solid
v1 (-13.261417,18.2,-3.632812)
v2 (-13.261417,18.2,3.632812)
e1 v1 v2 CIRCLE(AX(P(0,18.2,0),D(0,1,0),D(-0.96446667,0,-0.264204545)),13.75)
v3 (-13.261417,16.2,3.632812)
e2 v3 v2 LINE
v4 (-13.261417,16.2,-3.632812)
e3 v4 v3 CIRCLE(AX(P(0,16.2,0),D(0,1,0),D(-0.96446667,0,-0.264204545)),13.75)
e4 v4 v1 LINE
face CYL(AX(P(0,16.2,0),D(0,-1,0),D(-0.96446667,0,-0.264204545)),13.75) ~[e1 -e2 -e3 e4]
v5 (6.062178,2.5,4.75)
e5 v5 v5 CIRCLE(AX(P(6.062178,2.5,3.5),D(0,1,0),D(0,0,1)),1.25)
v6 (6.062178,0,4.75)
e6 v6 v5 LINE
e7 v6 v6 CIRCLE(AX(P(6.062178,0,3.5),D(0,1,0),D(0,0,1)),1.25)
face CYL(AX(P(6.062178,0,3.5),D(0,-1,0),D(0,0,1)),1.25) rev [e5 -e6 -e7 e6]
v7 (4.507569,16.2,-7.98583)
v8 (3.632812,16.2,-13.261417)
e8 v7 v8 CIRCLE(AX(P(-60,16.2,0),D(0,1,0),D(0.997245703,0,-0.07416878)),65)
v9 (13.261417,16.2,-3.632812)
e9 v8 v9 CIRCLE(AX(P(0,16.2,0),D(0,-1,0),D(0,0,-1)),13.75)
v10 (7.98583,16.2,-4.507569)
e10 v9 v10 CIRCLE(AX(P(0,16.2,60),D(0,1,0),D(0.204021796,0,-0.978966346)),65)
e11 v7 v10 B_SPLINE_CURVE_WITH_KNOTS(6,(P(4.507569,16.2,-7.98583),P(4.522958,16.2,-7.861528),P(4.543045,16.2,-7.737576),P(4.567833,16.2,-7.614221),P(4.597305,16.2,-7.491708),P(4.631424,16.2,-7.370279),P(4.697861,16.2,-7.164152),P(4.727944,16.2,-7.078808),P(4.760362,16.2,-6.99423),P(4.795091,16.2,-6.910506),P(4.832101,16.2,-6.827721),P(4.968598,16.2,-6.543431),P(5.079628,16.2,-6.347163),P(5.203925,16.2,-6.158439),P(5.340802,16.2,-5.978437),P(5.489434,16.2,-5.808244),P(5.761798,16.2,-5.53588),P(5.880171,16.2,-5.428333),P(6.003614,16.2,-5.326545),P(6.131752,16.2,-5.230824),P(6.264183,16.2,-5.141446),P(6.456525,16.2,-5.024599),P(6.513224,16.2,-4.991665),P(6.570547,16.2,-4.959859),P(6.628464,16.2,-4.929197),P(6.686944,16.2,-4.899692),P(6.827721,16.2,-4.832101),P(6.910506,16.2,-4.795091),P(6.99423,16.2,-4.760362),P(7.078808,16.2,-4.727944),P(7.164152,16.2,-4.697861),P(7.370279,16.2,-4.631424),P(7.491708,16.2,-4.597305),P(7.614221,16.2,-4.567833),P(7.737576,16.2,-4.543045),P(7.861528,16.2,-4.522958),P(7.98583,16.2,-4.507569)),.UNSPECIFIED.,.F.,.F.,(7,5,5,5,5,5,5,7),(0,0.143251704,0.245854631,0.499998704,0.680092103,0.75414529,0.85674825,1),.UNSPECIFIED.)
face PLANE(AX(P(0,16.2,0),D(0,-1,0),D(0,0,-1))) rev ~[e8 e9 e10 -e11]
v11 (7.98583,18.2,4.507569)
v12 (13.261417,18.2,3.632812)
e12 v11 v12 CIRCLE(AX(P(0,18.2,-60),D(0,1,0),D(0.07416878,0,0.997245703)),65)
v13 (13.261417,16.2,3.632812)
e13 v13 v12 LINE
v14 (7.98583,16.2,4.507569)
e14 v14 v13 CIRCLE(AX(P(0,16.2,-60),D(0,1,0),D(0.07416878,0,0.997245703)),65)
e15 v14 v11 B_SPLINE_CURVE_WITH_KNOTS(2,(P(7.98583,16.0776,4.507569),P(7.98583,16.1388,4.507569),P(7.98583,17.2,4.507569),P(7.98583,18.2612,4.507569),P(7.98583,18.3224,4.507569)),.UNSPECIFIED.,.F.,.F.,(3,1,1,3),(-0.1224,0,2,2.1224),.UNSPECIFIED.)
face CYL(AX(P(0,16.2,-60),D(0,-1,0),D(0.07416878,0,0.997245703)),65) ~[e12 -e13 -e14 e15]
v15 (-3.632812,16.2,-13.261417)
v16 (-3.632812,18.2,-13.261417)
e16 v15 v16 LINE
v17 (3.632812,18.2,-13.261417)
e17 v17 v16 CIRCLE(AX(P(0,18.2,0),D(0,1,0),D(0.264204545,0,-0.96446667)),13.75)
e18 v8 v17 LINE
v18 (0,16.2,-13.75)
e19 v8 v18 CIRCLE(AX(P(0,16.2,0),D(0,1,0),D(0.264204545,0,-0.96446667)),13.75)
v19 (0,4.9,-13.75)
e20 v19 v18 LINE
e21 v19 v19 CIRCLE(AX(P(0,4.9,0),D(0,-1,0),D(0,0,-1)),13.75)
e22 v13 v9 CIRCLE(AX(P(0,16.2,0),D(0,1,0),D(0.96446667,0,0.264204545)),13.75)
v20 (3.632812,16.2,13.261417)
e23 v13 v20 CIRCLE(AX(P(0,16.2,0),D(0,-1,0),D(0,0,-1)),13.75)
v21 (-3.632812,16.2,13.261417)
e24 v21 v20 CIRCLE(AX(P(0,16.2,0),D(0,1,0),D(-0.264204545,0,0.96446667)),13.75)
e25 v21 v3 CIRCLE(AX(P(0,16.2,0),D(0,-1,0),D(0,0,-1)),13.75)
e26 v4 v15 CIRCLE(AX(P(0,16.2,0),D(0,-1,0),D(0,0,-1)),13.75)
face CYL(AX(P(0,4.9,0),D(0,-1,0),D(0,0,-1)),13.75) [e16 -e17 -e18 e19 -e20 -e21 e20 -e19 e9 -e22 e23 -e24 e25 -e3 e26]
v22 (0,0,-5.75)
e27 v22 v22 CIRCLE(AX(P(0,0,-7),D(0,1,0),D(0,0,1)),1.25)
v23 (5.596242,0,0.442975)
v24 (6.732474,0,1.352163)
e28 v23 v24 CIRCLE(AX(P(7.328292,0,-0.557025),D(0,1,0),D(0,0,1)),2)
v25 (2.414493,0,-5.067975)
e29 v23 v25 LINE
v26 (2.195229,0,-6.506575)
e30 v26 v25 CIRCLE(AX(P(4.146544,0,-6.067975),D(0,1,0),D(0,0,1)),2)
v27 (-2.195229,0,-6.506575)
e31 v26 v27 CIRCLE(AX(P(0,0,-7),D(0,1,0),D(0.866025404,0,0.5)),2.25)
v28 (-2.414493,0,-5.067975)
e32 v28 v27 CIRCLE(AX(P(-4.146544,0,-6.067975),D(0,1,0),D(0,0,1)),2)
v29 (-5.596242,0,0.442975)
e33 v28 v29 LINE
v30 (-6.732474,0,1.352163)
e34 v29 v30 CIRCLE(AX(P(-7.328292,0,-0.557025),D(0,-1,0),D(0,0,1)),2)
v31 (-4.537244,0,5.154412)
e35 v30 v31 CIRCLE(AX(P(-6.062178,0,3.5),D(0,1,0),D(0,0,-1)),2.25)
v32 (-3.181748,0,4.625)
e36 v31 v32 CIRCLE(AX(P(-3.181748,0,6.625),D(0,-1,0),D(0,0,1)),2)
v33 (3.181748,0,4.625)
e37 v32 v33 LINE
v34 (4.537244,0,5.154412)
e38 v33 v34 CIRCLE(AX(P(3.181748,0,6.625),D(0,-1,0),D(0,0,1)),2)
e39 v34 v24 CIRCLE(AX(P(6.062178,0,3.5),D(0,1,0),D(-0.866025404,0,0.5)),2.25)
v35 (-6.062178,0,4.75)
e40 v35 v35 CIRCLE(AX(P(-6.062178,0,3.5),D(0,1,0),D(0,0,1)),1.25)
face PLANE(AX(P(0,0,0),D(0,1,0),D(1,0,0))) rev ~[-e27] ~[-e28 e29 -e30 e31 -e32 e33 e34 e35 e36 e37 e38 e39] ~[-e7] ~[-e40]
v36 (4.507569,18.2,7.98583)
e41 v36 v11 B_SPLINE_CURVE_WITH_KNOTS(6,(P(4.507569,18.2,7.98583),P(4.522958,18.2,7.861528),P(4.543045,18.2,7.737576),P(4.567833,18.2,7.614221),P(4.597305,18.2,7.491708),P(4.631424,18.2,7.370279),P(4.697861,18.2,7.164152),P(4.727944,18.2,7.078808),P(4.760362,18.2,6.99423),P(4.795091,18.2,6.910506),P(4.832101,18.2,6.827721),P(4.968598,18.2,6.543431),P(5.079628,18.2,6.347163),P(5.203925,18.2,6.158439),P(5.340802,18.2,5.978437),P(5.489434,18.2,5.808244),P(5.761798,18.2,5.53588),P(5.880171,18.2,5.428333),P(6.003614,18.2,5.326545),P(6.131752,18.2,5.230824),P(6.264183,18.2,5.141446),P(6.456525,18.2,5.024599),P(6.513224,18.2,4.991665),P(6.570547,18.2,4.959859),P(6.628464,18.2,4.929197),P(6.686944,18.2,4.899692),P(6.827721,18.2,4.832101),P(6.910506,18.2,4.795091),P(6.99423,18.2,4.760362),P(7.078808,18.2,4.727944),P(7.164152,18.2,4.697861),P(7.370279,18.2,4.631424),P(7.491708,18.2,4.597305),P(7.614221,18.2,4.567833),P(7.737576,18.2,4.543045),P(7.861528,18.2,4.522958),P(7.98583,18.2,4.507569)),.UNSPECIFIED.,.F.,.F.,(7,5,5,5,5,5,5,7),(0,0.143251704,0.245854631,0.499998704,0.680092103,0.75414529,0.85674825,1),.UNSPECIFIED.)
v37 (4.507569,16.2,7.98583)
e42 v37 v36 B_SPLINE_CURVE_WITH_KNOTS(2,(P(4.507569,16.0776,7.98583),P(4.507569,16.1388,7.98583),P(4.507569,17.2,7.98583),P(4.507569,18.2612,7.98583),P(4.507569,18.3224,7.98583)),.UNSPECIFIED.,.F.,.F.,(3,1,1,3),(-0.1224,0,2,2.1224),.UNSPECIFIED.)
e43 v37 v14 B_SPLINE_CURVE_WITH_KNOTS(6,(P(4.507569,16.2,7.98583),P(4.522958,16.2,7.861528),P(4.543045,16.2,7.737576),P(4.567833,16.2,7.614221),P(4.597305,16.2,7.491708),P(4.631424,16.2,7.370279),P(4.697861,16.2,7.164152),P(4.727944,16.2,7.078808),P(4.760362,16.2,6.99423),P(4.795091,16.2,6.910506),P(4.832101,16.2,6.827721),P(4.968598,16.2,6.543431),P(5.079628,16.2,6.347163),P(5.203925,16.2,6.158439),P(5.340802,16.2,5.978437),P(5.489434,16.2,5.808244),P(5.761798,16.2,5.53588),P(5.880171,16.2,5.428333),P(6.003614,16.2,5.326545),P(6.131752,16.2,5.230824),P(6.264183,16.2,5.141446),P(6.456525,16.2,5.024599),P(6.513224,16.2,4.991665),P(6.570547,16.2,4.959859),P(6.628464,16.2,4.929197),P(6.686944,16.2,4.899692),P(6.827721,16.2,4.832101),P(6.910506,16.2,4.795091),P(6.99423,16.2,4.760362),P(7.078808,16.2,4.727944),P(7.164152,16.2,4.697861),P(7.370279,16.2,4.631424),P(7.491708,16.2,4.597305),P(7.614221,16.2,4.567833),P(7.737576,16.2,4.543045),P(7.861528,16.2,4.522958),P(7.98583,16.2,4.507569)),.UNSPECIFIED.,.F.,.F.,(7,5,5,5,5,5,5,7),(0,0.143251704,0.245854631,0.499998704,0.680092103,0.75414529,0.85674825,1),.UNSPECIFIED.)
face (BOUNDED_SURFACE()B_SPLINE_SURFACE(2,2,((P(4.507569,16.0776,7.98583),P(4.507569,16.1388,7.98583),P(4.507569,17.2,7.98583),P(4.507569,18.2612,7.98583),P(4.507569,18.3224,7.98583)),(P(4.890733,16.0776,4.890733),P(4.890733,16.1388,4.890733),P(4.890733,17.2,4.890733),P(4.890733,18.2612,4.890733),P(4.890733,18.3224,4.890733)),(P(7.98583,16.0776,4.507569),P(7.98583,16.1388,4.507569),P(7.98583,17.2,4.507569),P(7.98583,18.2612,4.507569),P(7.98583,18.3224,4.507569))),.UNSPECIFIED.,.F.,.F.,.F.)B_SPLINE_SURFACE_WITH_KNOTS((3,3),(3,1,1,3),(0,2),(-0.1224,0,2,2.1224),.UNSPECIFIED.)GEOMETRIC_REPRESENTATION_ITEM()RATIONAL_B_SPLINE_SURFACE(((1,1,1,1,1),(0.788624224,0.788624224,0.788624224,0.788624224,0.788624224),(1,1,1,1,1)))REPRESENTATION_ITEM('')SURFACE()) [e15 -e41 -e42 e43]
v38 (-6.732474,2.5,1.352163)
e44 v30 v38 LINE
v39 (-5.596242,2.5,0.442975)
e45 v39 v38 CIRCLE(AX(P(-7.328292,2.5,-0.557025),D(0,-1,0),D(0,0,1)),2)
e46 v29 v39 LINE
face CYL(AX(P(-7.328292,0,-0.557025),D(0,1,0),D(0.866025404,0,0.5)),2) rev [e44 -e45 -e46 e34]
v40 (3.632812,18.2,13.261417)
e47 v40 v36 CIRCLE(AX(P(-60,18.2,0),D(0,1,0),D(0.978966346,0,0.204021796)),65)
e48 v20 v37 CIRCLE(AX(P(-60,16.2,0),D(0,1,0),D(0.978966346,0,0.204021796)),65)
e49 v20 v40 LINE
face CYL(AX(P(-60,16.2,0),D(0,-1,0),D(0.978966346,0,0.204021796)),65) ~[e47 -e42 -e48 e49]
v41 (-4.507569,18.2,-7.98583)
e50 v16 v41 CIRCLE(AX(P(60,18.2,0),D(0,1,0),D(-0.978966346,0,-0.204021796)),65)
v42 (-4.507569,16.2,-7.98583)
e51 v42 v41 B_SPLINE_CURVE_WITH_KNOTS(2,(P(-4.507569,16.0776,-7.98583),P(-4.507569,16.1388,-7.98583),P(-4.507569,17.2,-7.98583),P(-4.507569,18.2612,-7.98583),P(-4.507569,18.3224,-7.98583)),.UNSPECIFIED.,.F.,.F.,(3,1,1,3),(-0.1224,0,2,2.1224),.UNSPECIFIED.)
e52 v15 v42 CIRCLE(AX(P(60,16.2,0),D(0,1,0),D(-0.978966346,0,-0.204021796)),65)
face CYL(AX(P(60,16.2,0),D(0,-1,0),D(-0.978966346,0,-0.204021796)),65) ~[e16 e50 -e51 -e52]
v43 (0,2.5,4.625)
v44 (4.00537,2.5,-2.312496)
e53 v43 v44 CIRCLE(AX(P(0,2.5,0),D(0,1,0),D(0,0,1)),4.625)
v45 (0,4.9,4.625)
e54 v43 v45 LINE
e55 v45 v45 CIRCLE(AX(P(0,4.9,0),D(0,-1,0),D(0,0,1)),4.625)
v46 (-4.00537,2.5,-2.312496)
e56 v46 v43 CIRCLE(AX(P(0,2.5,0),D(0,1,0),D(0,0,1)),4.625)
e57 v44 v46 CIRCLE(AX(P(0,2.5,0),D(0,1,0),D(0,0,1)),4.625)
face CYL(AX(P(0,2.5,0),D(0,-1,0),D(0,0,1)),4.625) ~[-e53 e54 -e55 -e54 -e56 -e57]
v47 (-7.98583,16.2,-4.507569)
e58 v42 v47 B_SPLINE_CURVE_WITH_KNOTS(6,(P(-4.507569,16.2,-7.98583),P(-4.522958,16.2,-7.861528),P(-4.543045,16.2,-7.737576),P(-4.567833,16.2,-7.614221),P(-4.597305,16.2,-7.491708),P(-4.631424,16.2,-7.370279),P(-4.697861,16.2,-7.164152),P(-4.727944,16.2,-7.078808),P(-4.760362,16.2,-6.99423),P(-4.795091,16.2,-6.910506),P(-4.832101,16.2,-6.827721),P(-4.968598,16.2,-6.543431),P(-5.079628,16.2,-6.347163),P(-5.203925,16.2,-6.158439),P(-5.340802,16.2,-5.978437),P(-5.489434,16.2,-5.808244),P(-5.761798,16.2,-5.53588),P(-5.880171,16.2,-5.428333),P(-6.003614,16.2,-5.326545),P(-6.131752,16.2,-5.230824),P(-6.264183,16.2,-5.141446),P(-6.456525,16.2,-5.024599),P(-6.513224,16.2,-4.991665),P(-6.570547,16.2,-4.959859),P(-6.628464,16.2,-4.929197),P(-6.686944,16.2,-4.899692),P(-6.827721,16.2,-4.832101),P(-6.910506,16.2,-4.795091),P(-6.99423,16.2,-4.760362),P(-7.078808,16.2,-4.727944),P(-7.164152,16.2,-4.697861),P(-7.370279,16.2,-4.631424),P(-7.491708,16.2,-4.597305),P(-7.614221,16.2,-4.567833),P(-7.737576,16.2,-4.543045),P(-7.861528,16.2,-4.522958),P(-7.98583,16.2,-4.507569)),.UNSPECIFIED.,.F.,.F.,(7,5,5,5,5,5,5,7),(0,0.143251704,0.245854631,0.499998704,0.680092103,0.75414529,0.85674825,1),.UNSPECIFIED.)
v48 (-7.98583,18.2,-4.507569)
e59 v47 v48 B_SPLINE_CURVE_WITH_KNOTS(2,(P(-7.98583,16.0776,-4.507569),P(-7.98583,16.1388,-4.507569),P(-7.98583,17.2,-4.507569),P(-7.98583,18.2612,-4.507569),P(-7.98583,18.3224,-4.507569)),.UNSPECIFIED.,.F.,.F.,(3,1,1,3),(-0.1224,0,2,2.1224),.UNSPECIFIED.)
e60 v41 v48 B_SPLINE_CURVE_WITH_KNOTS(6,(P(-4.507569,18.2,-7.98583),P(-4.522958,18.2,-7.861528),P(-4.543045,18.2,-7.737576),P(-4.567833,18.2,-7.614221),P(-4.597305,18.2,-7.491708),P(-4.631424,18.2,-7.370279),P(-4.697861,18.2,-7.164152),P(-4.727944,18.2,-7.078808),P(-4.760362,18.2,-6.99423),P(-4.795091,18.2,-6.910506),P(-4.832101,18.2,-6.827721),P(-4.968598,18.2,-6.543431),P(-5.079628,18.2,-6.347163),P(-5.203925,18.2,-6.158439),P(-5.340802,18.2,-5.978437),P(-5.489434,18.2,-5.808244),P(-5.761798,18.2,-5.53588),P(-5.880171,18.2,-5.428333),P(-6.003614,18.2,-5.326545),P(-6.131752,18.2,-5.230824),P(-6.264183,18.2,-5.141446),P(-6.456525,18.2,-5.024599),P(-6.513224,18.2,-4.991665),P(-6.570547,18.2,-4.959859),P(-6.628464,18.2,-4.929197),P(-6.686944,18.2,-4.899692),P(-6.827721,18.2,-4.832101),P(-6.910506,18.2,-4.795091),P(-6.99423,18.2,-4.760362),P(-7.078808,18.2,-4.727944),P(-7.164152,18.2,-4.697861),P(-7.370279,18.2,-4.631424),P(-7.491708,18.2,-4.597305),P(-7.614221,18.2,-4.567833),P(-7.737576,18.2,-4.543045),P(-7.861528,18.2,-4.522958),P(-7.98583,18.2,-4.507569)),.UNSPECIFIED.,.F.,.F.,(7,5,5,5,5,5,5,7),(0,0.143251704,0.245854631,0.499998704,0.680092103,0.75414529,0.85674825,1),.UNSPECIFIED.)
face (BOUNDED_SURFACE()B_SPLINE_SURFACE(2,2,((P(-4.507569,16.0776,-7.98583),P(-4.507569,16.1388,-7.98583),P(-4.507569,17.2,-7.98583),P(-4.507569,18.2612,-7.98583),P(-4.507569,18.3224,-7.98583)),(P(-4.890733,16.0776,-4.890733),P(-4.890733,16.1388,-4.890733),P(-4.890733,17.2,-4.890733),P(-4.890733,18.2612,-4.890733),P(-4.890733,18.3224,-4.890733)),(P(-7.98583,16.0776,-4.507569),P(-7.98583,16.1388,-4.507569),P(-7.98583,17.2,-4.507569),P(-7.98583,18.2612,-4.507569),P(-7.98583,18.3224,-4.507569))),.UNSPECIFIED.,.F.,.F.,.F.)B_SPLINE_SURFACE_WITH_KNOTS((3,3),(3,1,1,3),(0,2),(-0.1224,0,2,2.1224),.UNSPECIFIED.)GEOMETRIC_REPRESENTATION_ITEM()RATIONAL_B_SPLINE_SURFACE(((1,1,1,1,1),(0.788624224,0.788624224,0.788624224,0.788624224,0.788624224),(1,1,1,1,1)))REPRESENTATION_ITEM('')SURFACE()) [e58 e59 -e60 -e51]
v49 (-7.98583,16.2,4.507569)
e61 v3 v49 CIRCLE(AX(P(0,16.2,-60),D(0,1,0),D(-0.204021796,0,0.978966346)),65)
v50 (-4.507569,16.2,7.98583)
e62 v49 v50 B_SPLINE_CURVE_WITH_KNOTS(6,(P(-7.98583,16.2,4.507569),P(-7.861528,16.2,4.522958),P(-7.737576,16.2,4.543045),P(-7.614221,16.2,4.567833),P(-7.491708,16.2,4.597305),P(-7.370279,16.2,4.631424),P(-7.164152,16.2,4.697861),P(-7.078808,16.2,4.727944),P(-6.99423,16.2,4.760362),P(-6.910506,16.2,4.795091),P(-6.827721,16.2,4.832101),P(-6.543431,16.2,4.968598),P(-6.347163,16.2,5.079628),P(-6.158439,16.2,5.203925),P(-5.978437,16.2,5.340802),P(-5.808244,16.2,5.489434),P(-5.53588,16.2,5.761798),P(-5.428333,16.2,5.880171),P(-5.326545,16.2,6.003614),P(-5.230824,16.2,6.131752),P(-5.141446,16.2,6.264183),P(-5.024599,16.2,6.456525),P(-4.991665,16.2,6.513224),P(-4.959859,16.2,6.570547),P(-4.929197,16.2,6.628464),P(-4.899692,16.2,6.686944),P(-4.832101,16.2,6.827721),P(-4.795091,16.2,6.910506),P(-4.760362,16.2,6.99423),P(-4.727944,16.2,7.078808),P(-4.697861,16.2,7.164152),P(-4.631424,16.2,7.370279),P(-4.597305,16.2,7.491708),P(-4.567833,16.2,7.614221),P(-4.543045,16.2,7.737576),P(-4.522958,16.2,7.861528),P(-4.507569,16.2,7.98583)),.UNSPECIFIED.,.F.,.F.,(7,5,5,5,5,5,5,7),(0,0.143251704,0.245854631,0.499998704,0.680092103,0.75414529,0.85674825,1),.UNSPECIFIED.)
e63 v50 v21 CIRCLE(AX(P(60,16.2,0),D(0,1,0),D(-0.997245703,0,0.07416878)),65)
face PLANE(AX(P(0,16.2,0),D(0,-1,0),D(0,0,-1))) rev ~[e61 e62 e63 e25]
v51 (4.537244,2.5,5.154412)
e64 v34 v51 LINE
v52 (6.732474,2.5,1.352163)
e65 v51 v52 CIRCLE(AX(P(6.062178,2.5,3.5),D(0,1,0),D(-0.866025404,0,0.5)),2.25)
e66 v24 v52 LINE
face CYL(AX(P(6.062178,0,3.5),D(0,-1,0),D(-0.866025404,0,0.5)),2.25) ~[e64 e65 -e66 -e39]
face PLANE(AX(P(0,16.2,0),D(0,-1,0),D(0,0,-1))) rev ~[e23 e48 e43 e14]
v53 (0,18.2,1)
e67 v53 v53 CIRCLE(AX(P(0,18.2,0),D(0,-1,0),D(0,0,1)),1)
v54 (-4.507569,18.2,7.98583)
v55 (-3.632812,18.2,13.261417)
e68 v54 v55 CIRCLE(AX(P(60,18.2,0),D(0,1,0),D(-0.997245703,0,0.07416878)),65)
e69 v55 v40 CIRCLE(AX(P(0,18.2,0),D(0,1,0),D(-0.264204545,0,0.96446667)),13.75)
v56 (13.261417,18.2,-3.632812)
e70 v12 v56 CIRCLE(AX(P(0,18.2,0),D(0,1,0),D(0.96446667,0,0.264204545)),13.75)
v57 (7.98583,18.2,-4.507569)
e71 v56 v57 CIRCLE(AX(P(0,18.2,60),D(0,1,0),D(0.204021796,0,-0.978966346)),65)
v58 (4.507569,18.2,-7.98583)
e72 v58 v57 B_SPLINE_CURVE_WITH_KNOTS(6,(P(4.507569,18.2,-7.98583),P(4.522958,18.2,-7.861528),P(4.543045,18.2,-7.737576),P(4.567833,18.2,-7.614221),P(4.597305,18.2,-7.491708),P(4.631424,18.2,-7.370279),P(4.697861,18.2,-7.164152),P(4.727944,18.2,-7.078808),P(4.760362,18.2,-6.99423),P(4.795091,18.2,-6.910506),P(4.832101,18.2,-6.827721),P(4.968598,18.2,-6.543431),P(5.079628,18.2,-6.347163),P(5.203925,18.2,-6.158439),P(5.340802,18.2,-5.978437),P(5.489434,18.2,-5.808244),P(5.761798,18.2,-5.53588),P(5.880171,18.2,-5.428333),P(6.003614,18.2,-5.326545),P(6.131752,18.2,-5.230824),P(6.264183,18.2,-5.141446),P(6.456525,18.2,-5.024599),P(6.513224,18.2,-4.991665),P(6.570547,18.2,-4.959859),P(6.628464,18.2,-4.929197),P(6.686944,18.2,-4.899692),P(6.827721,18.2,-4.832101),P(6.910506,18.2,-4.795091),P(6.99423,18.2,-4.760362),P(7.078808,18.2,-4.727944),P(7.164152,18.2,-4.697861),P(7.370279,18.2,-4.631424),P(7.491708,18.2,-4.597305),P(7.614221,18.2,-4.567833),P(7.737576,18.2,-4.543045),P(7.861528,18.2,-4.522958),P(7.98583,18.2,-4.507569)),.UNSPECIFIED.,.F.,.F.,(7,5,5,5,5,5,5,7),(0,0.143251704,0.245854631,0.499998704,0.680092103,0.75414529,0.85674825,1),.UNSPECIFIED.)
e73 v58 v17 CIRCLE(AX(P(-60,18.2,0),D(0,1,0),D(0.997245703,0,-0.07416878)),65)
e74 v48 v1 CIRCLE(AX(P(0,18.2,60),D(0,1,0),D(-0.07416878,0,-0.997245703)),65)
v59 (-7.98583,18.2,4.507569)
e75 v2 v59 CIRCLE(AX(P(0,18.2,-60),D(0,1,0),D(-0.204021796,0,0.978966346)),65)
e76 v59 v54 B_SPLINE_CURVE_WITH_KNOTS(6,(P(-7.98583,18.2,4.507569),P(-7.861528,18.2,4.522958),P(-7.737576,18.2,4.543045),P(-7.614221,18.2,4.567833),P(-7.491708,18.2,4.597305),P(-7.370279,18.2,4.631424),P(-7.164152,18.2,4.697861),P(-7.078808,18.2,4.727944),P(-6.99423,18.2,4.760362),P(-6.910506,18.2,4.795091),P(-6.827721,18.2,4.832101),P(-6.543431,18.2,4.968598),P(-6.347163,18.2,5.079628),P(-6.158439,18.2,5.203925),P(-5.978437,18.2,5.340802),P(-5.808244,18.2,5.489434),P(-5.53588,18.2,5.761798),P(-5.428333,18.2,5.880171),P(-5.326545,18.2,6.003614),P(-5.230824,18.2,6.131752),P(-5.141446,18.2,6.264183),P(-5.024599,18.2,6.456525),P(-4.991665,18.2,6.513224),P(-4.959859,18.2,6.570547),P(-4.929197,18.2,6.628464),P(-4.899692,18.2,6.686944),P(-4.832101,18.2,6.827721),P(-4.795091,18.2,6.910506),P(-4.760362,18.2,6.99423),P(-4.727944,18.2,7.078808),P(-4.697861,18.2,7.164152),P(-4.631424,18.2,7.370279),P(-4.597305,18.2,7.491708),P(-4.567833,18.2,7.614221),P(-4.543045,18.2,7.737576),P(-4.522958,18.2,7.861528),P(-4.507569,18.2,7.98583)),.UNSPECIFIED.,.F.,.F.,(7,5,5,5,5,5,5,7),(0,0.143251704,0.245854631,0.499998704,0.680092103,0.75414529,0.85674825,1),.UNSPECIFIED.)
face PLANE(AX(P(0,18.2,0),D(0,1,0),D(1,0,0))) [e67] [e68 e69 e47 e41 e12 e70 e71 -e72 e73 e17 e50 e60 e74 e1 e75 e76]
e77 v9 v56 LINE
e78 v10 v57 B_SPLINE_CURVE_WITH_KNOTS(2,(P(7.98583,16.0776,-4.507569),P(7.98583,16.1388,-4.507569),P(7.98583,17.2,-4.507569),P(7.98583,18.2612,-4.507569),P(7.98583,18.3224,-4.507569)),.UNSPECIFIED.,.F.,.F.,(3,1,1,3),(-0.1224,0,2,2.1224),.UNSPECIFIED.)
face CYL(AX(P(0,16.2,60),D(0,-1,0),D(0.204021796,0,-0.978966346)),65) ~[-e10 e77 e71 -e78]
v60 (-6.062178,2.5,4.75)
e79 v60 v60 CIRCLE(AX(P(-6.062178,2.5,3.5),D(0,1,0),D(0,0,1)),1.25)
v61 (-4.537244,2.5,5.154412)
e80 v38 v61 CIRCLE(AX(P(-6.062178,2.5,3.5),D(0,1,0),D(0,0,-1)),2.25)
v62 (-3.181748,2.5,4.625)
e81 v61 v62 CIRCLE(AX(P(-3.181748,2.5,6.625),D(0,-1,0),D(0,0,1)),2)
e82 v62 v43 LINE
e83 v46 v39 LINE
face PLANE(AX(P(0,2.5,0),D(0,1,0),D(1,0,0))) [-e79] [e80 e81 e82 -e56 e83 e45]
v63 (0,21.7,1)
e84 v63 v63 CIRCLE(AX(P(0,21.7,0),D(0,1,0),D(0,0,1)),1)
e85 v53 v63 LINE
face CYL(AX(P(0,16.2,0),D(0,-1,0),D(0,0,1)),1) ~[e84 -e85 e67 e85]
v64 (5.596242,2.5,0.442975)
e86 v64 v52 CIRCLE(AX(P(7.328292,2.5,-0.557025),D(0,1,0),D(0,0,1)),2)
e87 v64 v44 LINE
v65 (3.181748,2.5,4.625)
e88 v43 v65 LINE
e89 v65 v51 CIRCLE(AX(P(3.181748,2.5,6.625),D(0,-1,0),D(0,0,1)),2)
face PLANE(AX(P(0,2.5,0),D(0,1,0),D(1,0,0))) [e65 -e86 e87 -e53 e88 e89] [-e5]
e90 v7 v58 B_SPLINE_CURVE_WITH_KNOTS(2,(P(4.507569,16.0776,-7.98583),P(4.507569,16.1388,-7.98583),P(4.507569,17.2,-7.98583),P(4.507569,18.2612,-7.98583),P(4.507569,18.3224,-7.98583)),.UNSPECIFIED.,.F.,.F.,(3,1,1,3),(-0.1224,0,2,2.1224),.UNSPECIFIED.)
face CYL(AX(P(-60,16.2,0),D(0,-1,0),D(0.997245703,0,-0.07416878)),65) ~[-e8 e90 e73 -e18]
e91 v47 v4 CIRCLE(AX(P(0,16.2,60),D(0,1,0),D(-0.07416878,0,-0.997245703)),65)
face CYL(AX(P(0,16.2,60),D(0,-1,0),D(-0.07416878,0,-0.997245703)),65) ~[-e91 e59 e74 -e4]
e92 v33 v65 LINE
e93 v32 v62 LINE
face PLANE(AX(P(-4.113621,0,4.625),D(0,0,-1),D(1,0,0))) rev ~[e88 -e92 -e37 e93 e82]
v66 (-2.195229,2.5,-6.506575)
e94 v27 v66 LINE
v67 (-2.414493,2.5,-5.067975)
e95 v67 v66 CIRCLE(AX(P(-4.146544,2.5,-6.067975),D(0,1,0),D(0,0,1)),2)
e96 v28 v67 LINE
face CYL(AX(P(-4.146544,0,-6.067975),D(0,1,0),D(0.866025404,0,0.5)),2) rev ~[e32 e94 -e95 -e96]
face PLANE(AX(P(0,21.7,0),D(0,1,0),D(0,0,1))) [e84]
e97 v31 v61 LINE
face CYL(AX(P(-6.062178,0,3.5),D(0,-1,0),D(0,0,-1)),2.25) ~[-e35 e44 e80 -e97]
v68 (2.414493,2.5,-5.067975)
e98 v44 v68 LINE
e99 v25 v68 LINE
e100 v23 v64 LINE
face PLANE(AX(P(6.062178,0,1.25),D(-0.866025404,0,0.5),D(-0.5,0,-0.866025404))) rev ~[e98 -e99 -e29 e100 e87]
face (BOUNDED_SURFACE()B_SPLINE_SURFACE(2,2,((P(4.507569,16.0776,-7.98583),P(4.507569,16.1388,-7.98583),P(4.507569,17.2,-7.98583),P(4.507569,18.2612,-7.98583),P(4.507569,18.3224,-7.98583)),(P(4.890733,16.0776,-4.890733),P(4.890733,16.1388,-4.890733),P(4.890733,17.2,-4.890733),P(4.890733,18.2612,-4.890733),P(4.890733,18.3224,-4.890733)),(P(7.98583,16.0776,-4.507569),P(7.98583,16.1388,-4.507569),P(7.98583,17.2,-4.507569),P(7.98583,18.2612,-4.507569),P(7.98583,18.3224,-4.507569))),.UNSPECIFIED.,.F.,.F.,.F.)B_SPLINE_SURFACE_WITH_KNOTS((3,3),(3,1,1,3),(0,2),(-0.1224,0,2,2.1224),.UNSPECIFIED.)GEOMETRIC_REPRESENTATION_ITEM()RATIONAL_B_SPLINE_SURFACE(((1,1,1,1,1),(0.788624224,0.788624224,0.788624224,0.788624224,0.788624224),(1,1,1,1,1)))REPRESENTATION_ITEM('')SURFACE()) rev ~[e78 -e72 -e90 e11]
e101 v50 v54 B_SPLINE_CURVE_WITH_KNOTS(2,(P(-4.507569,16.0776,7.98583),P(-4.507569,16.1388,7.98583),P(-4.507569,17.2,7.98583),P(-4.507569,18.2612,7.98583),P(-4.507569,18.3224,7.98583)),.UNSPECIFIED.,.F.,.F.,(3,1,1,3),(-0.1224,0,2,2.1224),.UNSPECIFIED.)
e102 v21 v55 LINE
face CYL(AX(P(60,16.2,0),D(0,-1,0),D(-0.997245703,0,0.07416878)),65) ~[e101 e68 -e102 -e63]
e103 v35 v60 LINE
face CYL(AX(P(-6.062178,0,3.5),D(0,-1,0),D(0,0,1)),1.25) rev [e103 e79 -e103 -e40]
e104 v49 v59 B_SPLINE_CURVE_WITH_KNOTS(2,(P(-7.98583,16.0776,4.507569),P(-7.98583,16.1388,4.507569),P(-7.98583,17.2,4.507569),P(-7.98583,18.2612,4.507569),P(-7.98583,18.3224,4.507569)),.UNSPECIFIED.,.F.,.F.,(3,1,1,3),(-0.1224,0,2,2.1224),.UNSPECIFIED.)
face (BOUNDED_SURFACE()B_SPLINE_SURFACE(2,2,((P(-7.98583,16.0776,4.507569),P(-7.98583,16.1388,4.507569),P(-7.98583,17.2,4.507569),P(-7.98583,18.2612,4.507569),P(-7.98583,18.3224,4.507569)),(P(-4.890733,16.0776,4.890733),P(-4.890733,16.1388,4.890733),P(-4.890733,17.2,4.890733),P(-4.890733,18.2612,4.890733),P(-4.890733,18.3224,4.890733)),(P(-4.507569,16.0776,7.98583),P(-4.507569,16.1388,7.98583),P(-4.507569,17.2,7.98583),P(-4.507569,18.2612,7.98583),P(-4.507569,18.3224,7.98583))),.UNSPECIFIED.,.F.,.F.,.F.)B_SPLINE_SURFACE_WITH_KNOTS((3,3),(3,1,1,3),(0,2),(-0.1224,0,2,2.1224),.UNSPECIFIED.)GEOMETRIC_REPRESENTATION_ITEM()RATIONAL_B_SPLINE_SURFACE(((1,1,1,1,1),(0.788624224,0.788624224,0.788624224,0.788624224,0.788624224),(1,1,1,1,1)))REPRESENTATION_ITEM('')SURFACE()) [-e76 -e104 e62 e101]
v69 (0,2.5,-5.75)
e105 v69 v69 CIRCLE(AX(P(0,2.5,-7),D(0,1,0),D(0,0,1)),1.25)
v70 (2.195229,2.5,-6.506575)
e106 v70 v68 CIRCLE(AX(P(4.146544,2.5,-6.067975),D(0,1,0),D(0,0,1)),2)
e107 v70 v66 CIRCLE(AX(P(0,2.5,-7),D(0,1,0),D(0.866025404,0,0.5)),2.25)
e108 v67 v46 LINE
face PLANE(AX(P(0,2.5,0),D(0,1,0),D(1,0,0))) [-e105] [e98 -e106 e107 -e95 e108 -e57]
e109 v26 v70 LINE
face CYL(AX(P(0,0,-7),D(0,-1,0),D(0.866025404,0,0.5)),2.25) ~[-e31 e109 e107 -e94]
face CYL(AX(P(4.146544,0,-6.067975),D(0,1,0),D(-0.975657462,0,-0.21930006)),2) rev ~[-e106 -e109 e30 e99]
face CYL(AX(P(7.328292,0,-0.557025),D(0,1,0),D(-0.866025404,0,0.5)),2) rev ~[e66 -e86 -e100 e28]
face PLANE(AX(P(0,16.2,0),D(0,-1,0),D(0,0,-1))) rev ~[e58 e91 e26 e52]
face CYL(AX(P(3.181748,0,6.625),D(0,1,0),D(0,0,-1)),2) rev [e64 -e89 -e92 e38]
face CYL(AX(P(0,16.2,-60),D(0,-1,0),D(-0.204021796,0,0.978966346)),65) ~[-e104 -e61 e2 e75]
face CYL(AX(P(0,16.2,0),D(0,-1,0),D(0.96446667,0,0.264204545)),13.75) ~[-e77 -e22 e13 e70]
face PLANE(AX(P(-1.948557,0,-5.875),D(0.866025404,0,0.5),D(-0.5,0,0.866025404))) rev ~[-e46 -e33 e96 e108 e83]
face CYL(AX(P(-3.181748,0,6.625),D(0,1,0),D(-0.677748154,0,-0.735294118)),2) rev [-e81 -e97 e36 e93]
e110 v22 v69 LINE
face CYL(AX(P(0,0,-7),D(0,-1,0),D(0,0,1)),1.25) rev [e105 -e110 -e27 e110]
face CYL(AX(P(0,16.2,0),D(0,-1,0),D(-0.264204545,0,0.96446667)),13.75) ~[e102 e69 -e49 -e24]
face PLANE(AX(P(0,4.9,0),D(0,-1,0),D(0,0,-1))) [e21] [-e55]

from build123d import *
from build123d.topology import SkipClean

# Parameters (mm, degrees)
SKETCH_1_R      = 1.25
EXTRUDE_1_DEPTH = 2.5
FILLET_1_R      = 2
SKETCH_2_R      = 4.625
EXTRUDE_2_DEPTH = 13.7
SKETCH_3_R      = 1
EXTRUDE_3_DEPTH = 5.5
EXTRUDE_4_DEPTH = 2
EXTRUDE_START   = 11.3
SKETCH_5_R      = 13.75
EXTRUDE_5_DEPTH = 11.3
FILLET_2_R      = 4


with BuildPart() as part:
    # 草图1 → 凸台-拉伸1 (new body)
    with BuildSketch(Plane(origin=(0, 0, 0), x_dir=(1, 0, 0), z_dir=(0, 1, 0))):
        with BuildLine():
            Line((-1.948557159, 5.875), (-6.062177826, -1.25))
            ThreePointArc((-6.062177826, -1.25), (-8.010734985, -4.625), (-4.113620668, -4.625))
            Line((-4.113620668, -4.625), (4.113620668, -4.625))
            ThreePointArc((4.113620668, -4.625), (8.010734985, -4.625), (6.062177826, -1.25))
            Line((6.062177826, -1.25), (1.948557159, 5.875))
            ThreePointArc((1.948557159, 5.875), (0, 9.25), (-1.948557159, 5.875))
        make_face()
        with Locations(Location((0, 7, 0), (0, 0, 270))):
            Circle(SKETCH_1_R, mode=Mode.SUBTRACT)
        with Locations(Location((-6.062177826, -3.5, 0), (0, 0, 270))):
            Circle(SKETCH_1_R, mode=Mode.SUBTRACT)
        with Locations(Location((6.062177826, -3.5, 0), (0, 0, 270))):
            Circle(SKETCH_1_R, mode=Mode.SUBTRACT)
    extrude(amount=EXTRUDE_1_DEPTH)

    # 圆角1
    fillet_1_edges = [part.edges().sort_by_distance(p)[0] for p in [
        (-6.062177826, 1.25, 1.25),
        (-1.948557159, 1.25, -5.875),
        (1.948557159, 1.25, -5.875),
        (6.062177826, 1.25, 1.25),
        (4.113620668, 1.25, 4.625),
        (-4.113620668, 1.25, 4.625),
    ]]
    fillet(fillet_1_edges, radius=FILLET_1_R)

    # 草图2 → 凸台-拉伸2 (add)
    with BuildSketch(Plane(origin=(0, 2.5, 0), x_dir=(1, 0, 0), z_dir=(0, 1, 0))):
        with Locations(Location((0, 0, 0), (0, 0, 270))):
            Circle(SKETCH_2_R)
    extrude(amount=EXTRUDE_2_DEPTH)

    # 草图3 → 凸台-拉伸3 (add)
    with BuildSketch(Plane(origin=(0, 16.2, 0), x_dir=(1, 0, 0), z_dir=(0, 1, 0))):
        with Locations(Location((0, 0, 0), (0, 0, 270))):
            Circle(SKETCH_3_R)
    extrude(amount=EXTRUDE_3_DEPTH)

    # 草图4 → 凸台-拉伸4 (add)
    with BuildSketch(Plane(origin=(0, 16.2, 0), x_dir=(1, 0, 0), z_dir=(0, 1, 0))):
        with BuildLine():
            ThreePointArc((-3.6328125, -13.261416717), (0, -13.75), (3.6328125, -13.261416717))
            ThreePointArc((3.6328125, -13.261416717), (4.365393547, -9.060690569), (4.820970693, -4.820970693))
            ThreePointArc((4.820970693, -4.820970693), (9.060690569, -4.365393547), (13.261416717, -3.6328125))
            ThreePointArc((13.261416717, -3.6328125), (13.75, 0), (13.261416717, 3.6328125))
            ThreePointArc((13.261416717, 3.6328125), (9.060690569, 4.365393547), (4.820970693, 4.820970693))
            ThreePointArc((4.820970693, 4.820970693), (4.365393547, 9.060690569), (3.6328125, 13.261416717))
            ThreePointArc((3.6328125, 13.261416717), (0, 13.75), (-3.6328125, 13.261416717))
            ThreePointArc((-3.6328125, 13.261416717), (-4.365393547, 9.060690569), (-4.820970693, 4.820970693))
            ThreePointArc((-4.820970693, 4.820970693), (-9.060690569, 4.365393547), (-13.261416717, 3.6328125))
            ThreePointArc((-13.261416717, 3.6328125), (-13.75, 0), (-13.261416717, -3.6328125))
            ThreePointArc((-13.261416717, -3.6328125), (-9.060690569, -4.365393547), (-4.820970693, -4.820970693))
            ThreePointArc((-4.820970693, -4.820970693), (-4.365393547, -9.060690569), (-3.6328125, -13.261416717))
        make_face()
    extrude(amount=EXTRUDE_4_DEPTH)

    # 草图5 → 凸台-拉伸5 (add)
    with SkipClean():  # the faces are left unmerged after this step: merging them gives an invalid solid
        with BuildSketch(Plane.XZ.offset(-16.2).offset(EXTRUDE_START)):
            with Locations(Location((0, 0, 0), (0, 0, 270))):
                Circle(SKETCH_5_R)
        extrude(amount=-EXTRUDE_5_DEPTH)

    # 圆角2
    fillet_2_edges = [part.edges().sort_by_distance(p)[0] for p in [
        (-4.820970693, 17.2, 4.820970693),
        (4.820970693, 17.2, 4.820970693),
        (4.820970693, 17.2, -4.820970693),
        (-4.820970693, 17.2, -4.820970693),
    ]]
    fillet(fillet_2_edges, radius=FILLET_2_R)


solid = part.part
